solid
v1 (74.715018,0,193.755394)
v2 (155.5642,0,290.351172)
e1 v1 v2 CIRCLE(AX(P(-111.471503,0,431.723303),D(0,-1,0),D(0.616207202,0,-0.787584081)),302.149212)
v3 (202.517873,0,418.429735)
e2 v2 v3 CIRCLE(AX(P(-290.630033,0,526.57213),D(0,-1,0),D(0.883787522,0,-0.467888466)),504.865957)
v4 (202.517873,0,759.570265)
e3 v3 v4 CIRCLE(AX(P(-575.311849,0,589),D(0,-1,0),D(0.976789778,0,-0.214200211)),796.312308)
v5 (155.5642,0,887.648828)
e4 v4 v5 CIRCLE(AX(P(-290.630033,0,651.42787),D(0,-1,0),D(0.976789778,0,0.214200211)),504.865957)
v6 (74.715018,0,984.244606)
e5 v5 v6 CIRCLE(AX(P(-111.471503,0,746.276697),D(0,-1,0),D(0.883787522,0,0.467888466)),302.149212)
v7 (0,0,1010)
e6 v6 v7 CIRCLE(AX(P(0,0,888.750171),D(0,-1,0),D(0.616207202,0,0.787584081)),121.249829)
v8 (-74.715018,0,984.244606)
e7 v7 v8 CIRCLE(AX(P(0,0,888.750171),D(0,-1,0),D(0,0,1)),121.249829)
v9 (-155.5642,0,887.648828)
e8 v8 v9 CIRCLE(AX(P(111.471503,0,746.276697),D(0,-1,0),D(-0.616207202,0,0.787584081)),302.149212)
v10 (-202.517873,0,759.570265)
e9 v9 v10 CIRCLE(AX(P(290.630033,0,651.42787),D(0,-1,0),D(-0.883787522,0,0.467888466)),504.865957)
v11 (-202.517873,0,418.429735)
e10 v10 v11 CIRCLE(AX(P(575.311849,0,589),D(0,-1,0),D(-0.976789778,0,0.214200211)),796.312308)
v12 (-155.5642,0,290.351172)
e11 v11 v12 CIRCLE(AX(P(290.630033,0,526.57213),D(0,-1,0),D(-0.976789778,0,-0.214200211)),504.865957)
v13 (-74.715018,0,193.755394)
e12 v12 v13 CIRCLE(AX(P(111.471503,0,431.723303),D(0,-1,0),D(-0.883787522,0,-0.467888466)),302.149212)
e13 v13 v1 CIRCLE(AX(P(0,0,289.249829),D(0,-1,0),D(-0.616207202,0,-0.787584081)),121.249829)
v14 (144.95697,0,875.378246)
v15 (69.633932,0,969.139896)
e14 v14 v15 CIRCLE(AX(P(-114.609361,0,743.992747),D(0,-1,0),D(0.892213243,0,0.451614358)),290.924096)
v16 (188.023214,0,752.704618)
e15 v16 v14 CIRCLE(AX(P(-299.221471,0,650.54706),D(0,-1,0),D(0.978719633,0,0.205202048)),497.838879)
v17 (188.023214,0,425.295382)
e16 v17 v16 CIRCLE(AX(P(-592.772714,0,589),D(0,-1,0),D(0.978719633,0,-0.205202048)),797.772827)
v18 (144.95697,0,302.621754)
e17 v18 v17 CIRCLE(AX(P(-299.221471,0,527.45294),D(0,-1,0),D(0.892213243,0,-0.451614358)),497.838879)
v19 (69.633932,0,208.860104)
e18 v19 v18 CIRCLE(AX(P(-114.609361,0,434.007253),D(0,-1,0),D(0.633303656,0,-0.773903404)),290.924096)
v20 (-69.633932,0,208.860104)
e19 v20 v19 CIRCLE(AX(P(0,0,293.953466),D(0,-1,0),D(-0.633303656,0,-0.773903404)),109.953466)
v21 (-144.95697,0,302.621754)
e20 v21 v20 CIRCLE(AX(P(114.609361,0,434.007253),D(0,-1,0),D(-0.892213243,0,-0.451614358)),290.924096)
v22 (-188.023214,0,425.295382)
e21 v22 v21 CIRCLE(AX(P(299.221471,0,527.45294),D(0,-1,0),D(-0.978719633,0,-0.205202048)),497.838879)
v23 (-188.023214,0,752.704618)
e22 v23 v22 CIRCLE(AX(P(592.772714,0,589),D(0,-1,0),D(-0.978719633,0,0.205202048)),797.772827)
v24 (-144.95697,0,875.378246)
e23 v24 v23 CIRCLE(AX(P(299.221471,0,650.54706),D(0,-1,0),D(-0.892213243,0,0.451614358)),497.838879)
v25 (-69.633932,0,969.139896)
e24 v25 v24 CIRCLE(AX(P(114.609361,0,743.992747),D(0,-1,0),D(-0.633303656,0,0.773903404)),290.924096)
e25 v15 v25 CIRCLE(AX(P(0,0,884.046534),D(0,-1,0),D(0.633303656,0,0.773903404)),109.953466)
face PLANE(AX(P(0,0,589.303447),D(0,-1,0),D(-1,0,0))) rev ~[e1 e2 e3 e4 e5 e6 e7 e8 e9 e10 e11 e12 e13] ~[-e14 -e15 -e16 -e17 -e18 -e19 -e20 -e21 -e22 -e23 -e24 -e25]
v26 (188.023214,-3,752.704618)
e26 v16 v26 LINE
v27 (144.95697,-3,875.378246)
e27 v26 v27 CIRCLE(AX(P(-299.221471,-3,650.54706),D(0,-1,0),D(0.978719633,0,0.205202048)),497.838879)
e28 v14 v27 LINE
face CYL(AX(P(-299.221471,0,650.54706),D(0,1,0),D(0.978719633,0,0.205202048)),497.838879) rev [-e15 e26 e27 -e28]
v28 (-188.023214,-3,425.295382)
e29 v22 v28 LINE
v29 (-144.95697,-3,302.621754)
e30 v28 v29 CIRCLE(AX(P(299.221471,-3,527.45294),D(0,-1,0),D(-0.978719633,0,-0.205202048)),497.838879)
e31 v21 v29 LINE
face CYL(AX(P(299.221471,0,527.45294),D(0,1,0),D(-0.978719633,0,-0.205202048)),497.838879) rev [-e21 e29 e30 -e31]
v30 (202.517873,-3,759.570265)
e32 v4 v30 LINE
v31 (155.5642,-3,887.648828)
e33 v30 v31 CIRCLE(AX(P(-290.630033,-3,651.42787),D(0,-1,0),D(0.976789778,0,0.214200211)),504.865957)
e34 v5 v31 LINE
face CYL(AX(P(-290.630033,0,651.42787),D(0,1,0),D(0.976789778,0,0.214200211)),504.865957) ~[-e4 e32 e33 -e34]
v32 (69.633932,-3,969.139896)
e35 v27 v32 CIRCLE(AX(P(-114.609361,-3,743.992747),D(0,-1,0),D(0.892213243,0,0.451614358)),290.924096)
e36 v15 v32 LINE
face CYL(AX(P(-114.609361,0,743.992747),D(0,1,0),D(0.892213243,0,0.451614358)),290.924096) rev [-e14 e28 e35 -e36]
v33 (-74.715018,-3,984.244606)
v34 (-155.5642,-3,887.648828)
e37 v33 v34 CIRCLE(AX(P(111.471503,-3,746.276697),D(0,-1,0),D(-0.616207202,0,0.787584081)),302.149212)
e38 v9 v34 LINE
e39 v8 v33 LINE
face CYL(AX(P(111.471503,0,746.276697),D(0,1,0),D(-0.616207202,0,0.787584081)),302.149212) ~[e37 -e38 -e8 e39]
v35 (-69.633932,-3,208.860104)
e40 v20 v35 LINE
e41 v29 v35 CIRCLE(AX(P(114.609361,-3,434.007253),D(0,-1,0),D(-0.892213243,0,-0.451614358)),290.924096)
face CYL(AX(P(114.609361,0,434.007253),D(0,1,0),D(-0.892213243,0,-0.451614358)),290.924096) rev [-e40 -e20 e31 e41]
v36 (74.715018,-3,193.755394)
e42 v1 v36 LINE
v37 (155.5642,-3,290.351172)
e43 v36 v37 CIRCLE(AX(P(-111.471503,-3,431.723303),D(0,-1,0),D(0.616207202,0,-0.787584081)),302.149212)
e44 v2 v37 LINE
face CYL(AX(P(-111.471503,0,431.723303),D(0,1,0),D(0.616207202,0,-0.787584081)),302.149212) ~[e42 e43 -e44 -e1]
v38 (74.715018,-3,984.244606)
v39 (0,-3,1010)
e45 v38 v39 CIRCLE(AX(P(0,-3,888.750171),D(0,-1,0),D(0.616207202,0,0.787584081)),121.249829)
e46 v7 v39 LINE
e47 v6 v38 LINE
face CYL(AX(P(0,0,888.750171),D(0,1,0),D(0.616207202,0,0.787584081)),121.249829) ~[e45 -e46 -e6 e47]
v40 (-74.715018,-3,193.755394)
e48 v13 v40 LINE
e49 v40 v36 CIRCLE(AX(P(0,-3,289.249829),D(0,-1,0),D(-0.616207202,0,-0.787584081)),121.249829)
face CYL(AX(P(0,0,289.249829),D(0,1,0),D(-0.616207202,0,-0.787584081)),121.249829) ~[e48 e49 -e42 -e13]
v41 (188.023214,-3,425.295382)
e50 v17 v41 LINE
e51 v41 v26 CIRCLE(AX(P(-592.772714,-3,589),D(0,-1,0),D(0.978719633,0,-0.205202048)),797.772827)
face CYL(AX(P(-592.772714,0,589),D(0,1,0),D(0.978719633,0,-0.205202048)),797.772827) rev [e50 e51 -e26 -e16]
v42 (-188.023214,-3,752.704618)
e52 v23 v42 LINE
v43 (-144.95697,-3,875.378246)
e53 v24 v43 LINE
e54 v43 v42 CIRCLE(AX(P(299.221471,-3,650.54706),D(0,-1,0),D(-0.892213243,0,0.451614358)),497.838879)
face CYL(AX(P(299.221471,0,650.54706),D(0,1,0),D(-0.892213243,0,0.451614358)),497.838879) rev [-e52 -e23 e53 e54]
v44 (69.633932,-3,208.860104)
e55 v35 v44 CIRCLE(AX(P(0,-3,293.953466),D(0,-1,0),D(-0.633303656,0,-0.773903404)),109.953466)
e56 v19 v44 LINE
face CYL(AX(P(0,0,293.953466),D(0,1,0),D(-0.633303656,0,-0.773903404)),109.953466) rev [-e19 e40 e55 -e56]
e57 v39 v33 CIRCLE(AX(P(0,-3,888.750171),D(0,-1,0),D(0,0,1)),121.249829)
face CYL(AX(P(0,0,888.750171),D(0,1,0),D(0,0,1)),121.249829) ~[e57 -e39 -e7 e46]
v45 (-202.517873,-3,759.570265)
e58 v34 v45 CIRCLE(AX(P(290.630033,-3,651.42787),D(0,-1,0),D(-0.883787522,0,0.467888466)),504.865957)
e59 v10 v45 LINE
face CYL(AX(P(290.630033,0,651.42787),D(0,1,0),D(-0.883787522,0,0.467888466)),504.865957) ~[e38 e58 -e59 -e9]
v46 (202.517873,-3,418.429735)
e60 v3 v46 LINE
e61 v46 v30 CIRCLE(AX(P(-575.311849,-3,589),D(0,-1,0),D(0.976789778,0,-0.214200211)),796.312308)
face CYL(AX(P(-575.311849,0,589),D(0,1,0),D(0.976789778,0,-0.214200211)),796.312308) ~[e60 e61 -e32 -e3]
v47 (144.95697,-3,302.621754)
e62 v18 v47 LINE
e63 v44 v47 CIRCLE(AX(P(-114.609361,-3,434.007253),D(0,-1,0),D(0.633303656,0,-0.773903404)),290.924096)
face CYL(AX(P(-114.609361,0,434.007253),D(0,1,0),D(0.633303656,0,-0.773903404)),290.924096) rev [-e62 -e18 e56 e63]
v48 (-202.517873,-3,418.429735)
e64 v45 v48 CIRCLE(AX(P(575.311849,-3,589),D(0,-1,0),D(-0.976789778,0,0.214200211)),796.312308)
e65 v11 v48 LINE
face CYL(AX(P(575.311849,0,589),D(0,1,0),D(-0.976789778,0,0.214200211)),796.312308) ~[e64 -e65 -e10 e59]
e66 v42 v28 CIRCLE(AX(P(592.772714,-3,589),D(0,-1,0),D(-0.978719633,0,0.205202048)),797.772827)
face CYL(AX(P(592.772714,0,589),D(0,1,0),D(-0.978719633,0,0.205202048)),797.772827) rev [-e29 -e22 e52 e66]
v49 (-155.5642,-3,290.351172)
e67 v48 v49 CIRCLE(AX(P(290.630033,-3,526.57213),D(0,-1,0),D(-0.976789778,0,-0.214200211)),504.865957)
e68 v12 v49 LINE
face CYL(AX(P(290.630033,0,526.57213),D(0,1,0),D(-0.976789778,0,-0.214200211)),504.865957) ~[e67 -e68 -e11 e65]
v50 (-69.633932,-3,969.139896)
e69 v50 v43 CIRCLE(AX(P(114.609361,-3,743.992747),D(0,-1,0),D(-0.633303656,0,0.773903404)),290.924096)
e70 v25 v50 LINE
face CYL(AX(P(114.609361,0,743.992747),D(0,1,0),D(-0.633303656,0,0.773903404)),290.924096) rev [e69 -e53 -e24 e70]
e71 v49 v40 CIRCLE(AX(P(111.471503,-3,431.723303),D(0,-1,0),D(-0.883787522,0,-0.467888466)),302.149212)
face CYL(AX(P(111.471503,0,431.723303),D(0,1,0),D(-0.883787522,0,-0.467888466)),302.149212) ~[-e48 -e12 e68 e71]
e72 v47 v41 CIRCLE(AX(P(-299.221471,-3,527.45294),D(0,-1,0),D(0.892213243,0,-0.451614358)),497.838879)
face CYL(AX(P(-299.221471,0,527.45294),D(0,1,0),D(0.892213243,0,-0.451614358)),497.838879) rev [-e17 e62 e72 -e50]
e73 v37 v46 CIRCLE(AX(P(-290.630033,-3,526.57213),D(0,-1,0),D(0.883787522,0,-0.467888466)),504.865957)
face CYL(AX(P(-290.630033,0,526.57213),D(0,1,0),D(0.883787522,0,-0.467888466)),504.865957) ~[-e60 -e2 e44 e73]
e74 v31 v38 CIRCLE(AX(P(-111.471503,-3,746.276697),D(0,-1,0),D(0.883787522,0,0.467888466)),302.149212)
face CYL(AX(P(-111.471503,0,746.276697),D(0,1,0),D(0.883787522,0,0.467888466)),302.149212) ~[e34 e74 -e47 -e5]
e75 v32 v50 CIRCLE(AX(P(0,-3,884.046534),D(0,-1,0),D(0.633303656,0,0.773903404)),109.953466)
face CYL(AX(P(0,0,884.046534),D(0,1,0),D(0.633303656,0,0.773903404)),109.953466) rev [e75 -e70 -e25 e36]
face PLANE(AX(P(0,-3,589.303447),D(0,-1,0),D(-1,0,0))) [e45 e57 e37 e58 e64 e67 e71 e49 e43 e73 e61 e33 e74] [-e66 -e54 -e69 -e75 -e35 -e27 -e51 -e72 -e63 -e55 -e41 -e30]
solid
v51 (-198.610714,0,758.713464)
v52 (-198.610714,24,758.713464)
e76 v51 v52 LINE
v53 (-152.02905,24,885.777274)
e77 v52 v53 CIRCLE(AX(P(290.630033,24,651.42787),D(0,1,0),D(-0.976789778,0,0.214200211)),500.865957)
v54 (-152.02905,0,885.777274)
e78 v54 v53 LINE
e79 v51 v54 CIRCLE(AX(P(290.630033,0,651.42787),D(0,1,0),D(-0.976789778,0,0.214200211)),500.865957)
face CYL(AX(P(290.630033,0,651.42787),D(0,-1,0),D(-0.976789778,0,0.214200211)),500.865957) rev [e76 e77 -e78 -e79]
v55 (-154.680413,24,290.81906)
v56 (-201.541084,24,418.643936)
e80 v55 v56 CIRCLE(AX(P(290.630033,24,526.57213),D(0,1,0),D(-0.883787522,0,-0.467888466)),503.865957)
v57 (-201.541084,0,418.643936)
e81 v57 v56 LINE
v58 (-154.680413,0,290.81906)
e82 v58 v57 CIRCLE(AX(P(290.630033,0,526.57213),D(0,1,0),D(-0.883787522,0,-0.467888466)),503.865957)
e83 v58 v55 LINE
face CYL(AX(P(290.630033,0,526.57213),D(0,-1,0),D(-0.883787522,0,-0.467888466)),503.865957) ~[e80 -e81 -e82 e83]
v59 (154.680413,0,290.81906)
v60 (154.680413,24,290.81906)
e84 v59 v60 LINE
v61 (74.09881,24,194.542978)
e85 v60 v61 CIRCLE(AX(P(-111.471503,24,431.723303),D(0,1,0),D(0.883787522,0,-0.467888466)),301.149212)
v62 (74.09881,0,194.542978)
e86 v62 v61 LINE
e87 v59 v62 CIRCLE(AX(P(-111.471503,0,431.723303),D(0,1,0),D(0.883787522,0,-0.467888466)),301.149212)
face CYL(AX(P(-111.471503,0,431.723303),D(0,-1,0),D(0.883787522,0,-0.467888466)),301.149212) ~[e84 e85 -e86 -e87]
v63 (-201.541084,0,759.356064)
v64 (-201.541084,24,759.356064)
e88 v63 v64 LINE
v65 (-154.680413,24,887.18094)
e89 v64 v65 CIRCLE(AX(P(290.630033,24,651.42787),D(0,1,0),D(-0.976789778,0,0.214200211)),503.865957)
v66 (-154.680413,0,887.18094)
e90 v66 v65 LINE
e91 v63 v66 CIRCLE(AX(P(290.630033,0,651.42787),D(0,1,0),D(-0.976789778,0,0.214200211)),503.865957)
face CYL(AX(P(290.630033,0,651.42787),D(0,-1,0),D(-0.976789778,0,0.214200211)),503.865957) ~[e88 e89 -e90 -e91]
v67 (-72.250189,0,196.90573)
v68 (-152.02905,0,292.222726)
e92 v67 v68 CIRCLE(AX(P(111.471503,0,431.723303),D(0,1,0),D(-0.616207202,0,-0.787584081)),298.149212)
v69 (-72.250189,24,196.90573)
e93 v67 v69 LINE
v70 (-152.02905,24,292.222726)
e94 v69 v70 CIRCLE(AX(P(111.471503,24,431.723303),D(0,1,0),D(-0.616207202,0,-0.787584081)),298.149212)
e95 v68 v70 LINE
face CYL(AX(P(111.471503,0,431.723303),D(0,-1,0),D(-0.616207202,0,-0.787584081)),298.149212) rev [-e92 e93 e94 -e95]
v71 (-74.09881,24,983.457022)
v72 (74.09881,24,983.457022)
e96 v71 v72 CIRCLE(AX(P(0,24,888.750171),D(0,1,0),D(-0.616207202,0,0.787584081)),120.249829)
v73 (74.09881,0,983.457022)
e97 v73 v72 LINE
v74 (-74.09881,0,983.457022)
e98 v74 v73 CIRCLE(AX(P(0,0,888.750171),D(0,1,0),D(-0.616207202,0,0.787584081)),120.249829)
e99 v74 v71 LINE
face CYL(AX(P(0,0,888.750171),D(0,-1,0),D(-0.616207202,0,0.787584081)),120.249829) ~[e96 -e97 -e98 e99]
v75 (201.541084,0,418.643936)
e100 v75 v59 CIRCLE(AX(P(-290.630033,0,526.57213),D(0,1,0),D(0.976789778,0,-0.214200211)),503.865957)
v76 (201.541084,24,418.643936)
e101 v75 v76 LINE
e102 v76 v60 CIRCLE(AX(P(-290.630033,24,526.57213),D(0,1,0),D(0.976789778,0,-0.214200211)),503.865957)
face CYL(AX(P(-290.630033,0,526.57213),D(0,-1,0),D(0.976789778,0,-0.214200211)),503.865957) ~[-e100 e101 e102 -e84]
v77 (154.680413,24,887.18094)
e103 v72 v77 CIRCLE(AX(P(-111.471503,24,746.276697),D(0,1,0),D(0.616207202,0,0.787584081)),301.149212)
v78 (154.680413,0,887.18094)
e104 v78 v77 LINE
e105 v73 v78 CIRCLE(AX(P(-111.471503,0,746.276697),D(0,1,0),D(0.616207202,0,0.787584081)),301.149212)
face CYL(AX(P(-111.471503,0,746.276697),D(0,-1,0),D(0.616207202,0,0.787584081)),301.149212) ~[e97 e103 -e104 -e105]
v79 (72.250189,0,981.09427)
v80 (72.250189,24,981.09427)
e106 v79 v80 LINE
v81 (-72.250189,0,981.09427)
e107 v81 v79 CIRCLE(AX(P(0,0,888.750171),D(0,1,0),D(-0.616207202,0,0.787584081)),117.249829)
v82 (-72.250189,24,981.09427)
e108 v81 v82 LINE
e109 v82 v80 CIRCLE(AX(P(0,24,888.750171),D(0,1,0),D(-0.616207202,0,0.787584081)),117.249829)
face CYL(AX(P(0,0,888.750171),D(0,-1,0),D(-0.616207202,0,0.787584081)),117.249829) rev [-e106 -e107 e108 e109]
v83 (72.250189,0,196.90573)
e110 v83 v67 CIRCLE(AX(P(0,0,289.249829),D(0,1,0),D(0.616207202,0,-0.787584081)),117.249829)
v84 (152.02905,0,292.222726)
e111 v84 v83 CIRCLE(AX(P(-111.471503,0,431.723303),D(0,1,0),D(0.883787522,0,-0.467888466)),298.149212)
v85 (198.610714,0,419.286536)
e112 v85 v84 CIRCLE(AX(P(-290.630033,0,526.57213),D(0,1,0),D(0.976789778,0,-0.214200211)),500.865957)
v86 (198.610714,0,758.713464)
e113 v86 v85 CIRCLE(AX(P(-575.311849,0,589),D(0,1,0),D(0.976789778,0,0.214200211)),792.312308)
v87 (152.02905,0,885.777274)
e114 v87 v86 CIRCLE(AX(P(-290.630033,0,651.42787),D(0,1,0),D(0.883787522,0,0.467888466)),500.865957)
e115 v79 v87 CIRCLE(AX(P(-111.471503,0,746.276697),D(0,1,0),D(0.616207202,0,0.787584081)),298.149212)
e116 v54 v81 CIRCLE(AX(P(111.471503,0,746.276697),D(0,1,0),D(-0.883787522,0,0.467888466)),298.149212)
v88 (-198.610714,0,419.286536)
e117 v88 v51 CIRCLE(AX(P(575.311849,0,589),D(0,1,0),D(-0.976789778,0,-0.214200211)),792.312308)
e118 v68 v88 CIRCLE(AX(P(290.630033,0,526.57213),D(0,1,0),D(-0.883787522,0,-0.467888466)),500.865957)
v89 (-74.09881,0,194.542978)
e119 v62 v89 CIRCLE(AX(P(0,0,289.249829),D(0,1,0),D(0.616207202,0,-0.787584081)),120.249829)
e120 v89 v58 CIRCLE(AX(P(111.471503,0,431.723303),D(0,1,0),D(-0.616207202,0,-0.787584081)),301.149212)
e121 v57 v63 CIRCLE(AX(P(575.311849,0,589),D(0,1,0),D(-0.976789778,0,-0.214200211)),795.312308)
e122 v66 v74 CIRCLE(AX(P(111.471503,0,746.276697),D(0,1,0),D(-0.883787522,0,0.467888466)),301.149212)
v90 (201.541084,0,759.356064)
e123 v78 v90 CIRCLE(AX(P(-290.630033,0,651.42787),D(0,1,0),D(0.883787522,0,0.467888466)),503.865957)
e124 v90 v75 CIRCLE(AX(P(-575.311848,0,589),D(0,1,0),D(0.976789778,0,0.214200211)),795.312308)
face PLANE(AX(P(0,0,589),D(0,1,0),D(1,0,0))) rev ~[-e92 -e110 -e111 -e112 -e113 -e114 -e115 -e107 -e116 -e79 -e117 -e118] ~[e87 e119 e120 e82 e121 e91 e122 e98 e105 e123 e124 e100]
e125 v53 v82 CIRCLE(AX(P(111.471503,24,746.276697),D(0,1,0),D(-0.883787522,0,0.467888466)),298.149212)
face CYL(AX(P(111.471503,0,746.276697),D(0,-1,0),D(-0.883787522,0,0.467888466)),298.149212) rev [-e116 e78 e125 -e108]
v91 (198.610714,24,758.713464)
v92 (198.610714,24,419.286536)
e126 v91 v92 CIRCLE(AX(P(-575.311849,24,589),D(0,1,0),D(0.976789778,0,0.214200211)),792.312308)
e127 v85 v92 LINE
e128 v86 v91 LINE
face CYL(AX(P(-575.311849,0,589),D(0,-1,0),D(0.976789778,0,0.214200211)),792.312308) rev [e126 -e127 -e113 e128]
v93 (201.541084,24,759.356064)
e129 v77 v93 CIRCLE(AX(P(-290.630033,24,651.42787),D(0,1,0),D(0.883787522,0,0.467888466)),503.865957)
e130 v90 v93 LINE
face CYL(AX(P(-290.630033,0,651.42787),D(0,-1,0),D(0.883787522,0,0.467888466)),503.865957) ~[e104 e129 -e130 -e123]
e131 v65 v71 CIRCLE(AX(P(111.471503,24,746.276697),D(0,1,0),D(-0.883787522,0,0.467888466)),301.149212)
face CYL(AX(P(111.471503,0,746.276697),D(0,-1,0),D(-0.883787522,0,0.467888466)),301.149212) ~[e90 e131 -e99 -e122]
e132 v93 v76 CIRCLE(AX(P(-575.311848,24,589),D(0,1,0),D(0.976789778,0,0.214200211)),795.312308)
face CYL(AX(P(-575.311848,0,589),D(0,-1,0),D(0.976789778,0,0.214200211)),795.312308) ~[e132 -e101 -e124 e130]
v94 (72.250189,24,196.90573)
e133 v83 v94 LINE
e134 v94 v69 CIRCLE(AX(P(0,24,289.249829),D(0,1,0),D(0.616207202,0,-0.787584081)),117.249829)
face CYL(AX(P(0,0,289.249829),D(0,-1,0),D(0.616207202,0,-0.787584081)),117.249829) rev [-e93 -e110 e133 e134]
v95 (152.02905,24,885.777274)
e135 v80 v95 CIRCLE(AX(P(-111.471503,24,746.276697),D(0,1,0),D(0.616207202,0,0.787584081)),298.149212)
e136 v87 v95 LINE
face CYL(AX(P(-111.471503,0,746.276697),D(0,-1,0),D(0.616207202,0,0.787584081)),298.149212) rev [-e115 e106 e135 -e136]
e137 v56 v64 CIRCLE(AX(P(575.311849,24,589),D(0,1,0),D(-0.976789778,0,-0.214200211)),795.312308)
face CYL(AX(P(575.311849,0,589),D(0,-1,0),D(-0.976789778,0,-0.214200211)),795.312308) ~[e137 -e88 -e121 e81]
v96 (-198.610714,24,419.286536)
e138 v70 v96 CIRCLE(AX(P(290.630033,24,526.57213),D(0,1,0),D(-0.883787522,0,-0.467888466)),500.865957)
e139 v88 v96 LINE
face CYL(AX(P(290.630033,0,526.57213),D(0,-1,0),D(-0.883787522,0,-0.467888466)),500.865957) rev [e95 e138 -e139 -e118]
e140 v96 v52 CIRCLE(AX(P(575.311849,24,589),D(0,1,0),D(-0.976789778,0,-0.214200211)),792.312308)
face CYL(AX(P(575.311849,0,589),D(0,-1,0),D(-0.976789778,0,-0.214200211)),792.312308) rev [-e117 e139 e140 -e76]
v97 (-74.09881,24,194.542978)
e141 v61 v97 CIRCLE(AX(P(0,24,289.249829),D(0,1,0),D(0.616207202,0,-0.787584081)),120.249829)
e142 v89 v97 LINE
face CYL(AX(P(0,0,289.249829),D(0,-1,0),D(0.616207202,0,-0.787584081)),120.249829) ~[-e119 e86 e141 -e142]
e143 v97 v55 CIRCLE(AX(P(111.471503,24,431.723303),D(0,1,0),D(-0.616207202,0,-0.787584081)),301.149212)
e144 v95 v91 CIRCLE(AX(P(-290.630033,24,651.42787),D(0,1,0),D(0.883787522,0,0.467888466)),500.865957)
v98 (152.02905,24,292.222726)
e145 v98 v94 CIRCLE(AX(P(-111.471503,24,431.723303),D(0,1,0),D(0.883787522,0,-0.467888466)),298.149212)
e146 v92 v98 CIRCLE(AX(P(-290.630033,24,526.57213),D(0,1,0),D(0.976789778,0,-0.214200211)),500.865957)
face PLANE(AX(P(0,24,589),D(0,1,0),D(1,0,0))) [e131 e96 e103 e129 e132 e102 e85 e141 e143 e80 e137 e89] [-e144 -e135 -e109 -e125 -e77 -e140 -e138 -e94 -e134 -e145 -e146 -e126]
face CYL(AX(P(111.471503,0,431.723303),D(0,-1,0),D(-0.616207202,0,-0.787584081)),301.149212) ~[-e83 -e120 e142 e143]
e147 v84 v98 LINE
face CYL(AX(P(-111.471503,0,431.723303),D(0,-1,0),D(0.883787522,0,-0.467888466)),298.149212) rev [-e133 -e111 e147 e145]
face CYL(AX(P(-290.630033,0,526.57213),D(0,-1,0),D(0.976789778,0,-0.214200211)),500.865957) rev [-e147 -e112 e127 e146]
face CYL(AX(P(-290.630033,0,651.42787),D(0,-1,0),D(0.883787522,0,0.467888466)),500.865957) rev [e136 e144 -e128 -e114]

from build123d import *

# Parameters (mm, degrees)
AUFSATZ_LINEAR_AUSTRAGEN1_DEPTH = 3
AUFSATZ_LINEAR_AUSTRAGEN2_DEPTH = 24


with BuildPart() as part:
    # Skizze6 → Aufsatz-Linear austragen1 (new body)
    with BuildSketch(Plane(origin=(0, 0, 0), x_dir=(1, 0, 0), z_dir=(0, 1, 0))):
        with BuildLine():
            ThreePointArc((74.715017555, -984.244606231), (39.514788866, -1003.380457082), (0, -1010))
            ThreePointArc((0, -1010), (-39.514788866, -1003.380457082), (-74.715017555, -984.244606231))
            ThreePointArc((-74.715017555, -984.244606231), (-120.229343231, -940.206746616), (-155.564200335, -887.64882814))
            ThreePointArc((-155.564200335, -887.64882814), (-183.386784686, -825.20269993), (-202.517873317, -759.570264533))
            ThreePointArc((-202.517873317, -759.570264533), (-221.000459131, -589), (-202.517873317, -418.429735467))
            ThreePointArc((-202.517873317, -418.429735467), (-183.386784686, -352.79730007), (-155.564200335, -290.35117186))
            ThreePointArc((-155.564200335, -290.35117186), (-120.229343231, -237.793253384), (-74.715017555, -193.755393769))
            ThreePointArc((-74.715017555, -193.755393769), (0, -168), (74.715017555, -193.755393769))
            ThreePointArc((74.715017555, -193.755393769), (120.22934323, -237.793253384), (155.564200335, -290.35117186))
            ThreePointArc((155.564200335, -290.35117186), (183.386784686, -352.79730007), (202.517873317, -418.429735467))
            ThreePointArc((202.517873317, -418.429735467), (221.000459131, -589), (202.517873317, -759.570264533))
            ThreePointArc((202.517873317, -759.570264533), (183.386784686, -825.20269993), (155.564200335, -887.64882814))
            ThreePointArc((155.564200335, -887.64882814), (120.229343231, -940.206746616), (74.715017555, -984.244606231))
        make_face()
        with BuildLine():
            ThreePointArc((69.633932259, -969.139895548), (0, -994), (-69.633932259, -969.139895548))
            ThreePointArc((-69.633932259, -969.139895548), (-112.193543045, -926.193933206), (-144.95696967, -875.378246381))
            ThreePointArc((-144.95696967, -875.378246381), (-170.511926155, -815.453351782), (-188.023213714, -752.704617917))
            ThreePointArc((-188.023213714, -752.704617917), (-205.000112468, -589), (-188.023213714, -425.295382084))
            ThreePointArc((-188.023213714, -425.295382084), (-170.511926155, -362.546648219), (-144.95696967, -302.621753619))
            ThreePointArc((-144.95696967, -302.621753619), (-112.193543045, -251.806066794), (-69.633932259, -208.860104452))
            ThreePointArc((-69.633932259, -208.860104452), (0, -184), (69.633932259, -208.860104452))
            ThreePointArc((69.633932259, -208.860104452), (112.193543044, -251.806066794), (144.95696967, -302.621753619))
            ThreePointArc((144.95696967, -302.621753619), (170.511926155, -362.546648218), (188.023213714, -425.295382083))
            ThreePointArc((188.023213714, -425.295382083), (205.000112468, -589), (188.023213714, -752.704617917))
            ThreePointArc((188.023213714, -752.704617917), (170.511926155, -815.453351782), (144.95696967, -875.378246381))
            ThreePointArc((144.95696967, -875.378246381), (112.193543044, -926.193933206), (69.633932259, -969.139895548))
        make_face(mode=Mode.SUBTRACT)
    extrude(amount=-AUFSATZ_LINEAR_AUSTRAGEN1_DEPTH)


with BuildPart() as body_2:
    # Skizze7 → Aufsatz-Linear austragen2 (new body)
    with BuildSketch(Plane(origin=(0, 0, 0), x_dir=(1, 0, 0), z_dir=(0, 1, 0))):
        with BuildLine():
            ThreePointArc((74.098810354, -983.45702215), (119.462500767, -939.564911251), (154.680412814, -887.180939674))
            ThreePointArc((154.680412814, -887.180939674), (182.44788831, -824.858499994), (201.541083539, -759.356064322))
            ThreePointArc((201.541083539, -759.356064322), (220.000459131, -589), (201.541083539, -418.643935678))
            ThreePointArc((201.541083539, -418.643935678), (182.44788831, -353.141500006), (154.680412814, -290.819060326))
            ThreePointArc((154.680412814, -290.819060326), (119.462500767, -238.435088749), (74.098810353, -194.54297785))
            ThreePointArc((74.098810353, -194.54297785), (0, -169), (-74.098810353, -194.54297785))
            ThreePointArc((-74.098810353, -194.54297785), (-119.462500767, -238.435088749), (-154.680412814, -290.819060327))
            ThreePointArc((-154.680412814, -290.819060327), (-182.447888311, -353.141500006), (-201.54108354, -418.643935678))
            ThreePointArc((-201.54108354, -418.643935678), (-220.000459131, -589), (-201.54108354, -759.356064322))
            ThreePointArc((-201.54108354, -759.356064322), (-182.447888311, -824.858499994), (-154.680412814, -887.180939674))
            ThreePointArc((-154.680412814, -887.180939674), (-119.462500767, -939.564911251), (-74.098810354, -983.45702215))
            ThreePointArc((-74.098810354, -983.45702215), (0, -1009), (74.098810354, -983.45702215))
        make_face()
        with BuildLine():
            ThreePointArc((72.250188748, -981.094269907), (117.161973376, -937.639405155), (152.029050249, -885.777274275))
            ThreePointArc((152.029050249, -885.777274275), (179.631199184, -823.825900187), (198.610714207, -758.713463688))
            ThreePointArc((198.610714207, -758.713463688), (217.000459131, -589), (198.610714207, -419.286536312))
            ThreePointArc((198.610714207, -419.286536312), (179.631199184, -354.174099814), (152.029050249, -292.222725725))
            ThreePointArc((152.029050249, -292.222725725), (117.161973376, -240.360594845), (72.250188748, -196.905730093))
            ThreePointArc((72.250188748, -196.905730093), (0, -172), (-72.250188748, -196.905730093))
            ThreePointArc((-72.250188748, -196.905730093), (-117.161973376, -240.360594845), (-152.029050249, -292.222725725))
            ThreePointArc((-152.029050249, -292.222725725), (-179.631199184, -354.174099814), (-198.610714207, -419.286536312))
            ThreePointArc((-198.610714207, -419.286536312), (-217.000459131, -589), (-198.610714207, -758.713463688))
            ThreePointArc((-198.610714207, -758.713463688), (-179.631199184, -823.825900187), (-152.029050249, -885.777274275))
            ThreePointArc((-152.029050249, -885.777274275), (-117.161973376, -937.639405155), (-72.250188748, -981.094269907))
            ThreePointArc((-72.250188748, -981.094269907), (0, -1006), (72.250188748, -981.094269907))
        make_face(mode=Mode.SUBTRACT)
    extrude(amount=AUFSATZ_LINEAR_AUSTRAGEN2_DEPTH)


solid = Compound([part.part, body_2.part])
